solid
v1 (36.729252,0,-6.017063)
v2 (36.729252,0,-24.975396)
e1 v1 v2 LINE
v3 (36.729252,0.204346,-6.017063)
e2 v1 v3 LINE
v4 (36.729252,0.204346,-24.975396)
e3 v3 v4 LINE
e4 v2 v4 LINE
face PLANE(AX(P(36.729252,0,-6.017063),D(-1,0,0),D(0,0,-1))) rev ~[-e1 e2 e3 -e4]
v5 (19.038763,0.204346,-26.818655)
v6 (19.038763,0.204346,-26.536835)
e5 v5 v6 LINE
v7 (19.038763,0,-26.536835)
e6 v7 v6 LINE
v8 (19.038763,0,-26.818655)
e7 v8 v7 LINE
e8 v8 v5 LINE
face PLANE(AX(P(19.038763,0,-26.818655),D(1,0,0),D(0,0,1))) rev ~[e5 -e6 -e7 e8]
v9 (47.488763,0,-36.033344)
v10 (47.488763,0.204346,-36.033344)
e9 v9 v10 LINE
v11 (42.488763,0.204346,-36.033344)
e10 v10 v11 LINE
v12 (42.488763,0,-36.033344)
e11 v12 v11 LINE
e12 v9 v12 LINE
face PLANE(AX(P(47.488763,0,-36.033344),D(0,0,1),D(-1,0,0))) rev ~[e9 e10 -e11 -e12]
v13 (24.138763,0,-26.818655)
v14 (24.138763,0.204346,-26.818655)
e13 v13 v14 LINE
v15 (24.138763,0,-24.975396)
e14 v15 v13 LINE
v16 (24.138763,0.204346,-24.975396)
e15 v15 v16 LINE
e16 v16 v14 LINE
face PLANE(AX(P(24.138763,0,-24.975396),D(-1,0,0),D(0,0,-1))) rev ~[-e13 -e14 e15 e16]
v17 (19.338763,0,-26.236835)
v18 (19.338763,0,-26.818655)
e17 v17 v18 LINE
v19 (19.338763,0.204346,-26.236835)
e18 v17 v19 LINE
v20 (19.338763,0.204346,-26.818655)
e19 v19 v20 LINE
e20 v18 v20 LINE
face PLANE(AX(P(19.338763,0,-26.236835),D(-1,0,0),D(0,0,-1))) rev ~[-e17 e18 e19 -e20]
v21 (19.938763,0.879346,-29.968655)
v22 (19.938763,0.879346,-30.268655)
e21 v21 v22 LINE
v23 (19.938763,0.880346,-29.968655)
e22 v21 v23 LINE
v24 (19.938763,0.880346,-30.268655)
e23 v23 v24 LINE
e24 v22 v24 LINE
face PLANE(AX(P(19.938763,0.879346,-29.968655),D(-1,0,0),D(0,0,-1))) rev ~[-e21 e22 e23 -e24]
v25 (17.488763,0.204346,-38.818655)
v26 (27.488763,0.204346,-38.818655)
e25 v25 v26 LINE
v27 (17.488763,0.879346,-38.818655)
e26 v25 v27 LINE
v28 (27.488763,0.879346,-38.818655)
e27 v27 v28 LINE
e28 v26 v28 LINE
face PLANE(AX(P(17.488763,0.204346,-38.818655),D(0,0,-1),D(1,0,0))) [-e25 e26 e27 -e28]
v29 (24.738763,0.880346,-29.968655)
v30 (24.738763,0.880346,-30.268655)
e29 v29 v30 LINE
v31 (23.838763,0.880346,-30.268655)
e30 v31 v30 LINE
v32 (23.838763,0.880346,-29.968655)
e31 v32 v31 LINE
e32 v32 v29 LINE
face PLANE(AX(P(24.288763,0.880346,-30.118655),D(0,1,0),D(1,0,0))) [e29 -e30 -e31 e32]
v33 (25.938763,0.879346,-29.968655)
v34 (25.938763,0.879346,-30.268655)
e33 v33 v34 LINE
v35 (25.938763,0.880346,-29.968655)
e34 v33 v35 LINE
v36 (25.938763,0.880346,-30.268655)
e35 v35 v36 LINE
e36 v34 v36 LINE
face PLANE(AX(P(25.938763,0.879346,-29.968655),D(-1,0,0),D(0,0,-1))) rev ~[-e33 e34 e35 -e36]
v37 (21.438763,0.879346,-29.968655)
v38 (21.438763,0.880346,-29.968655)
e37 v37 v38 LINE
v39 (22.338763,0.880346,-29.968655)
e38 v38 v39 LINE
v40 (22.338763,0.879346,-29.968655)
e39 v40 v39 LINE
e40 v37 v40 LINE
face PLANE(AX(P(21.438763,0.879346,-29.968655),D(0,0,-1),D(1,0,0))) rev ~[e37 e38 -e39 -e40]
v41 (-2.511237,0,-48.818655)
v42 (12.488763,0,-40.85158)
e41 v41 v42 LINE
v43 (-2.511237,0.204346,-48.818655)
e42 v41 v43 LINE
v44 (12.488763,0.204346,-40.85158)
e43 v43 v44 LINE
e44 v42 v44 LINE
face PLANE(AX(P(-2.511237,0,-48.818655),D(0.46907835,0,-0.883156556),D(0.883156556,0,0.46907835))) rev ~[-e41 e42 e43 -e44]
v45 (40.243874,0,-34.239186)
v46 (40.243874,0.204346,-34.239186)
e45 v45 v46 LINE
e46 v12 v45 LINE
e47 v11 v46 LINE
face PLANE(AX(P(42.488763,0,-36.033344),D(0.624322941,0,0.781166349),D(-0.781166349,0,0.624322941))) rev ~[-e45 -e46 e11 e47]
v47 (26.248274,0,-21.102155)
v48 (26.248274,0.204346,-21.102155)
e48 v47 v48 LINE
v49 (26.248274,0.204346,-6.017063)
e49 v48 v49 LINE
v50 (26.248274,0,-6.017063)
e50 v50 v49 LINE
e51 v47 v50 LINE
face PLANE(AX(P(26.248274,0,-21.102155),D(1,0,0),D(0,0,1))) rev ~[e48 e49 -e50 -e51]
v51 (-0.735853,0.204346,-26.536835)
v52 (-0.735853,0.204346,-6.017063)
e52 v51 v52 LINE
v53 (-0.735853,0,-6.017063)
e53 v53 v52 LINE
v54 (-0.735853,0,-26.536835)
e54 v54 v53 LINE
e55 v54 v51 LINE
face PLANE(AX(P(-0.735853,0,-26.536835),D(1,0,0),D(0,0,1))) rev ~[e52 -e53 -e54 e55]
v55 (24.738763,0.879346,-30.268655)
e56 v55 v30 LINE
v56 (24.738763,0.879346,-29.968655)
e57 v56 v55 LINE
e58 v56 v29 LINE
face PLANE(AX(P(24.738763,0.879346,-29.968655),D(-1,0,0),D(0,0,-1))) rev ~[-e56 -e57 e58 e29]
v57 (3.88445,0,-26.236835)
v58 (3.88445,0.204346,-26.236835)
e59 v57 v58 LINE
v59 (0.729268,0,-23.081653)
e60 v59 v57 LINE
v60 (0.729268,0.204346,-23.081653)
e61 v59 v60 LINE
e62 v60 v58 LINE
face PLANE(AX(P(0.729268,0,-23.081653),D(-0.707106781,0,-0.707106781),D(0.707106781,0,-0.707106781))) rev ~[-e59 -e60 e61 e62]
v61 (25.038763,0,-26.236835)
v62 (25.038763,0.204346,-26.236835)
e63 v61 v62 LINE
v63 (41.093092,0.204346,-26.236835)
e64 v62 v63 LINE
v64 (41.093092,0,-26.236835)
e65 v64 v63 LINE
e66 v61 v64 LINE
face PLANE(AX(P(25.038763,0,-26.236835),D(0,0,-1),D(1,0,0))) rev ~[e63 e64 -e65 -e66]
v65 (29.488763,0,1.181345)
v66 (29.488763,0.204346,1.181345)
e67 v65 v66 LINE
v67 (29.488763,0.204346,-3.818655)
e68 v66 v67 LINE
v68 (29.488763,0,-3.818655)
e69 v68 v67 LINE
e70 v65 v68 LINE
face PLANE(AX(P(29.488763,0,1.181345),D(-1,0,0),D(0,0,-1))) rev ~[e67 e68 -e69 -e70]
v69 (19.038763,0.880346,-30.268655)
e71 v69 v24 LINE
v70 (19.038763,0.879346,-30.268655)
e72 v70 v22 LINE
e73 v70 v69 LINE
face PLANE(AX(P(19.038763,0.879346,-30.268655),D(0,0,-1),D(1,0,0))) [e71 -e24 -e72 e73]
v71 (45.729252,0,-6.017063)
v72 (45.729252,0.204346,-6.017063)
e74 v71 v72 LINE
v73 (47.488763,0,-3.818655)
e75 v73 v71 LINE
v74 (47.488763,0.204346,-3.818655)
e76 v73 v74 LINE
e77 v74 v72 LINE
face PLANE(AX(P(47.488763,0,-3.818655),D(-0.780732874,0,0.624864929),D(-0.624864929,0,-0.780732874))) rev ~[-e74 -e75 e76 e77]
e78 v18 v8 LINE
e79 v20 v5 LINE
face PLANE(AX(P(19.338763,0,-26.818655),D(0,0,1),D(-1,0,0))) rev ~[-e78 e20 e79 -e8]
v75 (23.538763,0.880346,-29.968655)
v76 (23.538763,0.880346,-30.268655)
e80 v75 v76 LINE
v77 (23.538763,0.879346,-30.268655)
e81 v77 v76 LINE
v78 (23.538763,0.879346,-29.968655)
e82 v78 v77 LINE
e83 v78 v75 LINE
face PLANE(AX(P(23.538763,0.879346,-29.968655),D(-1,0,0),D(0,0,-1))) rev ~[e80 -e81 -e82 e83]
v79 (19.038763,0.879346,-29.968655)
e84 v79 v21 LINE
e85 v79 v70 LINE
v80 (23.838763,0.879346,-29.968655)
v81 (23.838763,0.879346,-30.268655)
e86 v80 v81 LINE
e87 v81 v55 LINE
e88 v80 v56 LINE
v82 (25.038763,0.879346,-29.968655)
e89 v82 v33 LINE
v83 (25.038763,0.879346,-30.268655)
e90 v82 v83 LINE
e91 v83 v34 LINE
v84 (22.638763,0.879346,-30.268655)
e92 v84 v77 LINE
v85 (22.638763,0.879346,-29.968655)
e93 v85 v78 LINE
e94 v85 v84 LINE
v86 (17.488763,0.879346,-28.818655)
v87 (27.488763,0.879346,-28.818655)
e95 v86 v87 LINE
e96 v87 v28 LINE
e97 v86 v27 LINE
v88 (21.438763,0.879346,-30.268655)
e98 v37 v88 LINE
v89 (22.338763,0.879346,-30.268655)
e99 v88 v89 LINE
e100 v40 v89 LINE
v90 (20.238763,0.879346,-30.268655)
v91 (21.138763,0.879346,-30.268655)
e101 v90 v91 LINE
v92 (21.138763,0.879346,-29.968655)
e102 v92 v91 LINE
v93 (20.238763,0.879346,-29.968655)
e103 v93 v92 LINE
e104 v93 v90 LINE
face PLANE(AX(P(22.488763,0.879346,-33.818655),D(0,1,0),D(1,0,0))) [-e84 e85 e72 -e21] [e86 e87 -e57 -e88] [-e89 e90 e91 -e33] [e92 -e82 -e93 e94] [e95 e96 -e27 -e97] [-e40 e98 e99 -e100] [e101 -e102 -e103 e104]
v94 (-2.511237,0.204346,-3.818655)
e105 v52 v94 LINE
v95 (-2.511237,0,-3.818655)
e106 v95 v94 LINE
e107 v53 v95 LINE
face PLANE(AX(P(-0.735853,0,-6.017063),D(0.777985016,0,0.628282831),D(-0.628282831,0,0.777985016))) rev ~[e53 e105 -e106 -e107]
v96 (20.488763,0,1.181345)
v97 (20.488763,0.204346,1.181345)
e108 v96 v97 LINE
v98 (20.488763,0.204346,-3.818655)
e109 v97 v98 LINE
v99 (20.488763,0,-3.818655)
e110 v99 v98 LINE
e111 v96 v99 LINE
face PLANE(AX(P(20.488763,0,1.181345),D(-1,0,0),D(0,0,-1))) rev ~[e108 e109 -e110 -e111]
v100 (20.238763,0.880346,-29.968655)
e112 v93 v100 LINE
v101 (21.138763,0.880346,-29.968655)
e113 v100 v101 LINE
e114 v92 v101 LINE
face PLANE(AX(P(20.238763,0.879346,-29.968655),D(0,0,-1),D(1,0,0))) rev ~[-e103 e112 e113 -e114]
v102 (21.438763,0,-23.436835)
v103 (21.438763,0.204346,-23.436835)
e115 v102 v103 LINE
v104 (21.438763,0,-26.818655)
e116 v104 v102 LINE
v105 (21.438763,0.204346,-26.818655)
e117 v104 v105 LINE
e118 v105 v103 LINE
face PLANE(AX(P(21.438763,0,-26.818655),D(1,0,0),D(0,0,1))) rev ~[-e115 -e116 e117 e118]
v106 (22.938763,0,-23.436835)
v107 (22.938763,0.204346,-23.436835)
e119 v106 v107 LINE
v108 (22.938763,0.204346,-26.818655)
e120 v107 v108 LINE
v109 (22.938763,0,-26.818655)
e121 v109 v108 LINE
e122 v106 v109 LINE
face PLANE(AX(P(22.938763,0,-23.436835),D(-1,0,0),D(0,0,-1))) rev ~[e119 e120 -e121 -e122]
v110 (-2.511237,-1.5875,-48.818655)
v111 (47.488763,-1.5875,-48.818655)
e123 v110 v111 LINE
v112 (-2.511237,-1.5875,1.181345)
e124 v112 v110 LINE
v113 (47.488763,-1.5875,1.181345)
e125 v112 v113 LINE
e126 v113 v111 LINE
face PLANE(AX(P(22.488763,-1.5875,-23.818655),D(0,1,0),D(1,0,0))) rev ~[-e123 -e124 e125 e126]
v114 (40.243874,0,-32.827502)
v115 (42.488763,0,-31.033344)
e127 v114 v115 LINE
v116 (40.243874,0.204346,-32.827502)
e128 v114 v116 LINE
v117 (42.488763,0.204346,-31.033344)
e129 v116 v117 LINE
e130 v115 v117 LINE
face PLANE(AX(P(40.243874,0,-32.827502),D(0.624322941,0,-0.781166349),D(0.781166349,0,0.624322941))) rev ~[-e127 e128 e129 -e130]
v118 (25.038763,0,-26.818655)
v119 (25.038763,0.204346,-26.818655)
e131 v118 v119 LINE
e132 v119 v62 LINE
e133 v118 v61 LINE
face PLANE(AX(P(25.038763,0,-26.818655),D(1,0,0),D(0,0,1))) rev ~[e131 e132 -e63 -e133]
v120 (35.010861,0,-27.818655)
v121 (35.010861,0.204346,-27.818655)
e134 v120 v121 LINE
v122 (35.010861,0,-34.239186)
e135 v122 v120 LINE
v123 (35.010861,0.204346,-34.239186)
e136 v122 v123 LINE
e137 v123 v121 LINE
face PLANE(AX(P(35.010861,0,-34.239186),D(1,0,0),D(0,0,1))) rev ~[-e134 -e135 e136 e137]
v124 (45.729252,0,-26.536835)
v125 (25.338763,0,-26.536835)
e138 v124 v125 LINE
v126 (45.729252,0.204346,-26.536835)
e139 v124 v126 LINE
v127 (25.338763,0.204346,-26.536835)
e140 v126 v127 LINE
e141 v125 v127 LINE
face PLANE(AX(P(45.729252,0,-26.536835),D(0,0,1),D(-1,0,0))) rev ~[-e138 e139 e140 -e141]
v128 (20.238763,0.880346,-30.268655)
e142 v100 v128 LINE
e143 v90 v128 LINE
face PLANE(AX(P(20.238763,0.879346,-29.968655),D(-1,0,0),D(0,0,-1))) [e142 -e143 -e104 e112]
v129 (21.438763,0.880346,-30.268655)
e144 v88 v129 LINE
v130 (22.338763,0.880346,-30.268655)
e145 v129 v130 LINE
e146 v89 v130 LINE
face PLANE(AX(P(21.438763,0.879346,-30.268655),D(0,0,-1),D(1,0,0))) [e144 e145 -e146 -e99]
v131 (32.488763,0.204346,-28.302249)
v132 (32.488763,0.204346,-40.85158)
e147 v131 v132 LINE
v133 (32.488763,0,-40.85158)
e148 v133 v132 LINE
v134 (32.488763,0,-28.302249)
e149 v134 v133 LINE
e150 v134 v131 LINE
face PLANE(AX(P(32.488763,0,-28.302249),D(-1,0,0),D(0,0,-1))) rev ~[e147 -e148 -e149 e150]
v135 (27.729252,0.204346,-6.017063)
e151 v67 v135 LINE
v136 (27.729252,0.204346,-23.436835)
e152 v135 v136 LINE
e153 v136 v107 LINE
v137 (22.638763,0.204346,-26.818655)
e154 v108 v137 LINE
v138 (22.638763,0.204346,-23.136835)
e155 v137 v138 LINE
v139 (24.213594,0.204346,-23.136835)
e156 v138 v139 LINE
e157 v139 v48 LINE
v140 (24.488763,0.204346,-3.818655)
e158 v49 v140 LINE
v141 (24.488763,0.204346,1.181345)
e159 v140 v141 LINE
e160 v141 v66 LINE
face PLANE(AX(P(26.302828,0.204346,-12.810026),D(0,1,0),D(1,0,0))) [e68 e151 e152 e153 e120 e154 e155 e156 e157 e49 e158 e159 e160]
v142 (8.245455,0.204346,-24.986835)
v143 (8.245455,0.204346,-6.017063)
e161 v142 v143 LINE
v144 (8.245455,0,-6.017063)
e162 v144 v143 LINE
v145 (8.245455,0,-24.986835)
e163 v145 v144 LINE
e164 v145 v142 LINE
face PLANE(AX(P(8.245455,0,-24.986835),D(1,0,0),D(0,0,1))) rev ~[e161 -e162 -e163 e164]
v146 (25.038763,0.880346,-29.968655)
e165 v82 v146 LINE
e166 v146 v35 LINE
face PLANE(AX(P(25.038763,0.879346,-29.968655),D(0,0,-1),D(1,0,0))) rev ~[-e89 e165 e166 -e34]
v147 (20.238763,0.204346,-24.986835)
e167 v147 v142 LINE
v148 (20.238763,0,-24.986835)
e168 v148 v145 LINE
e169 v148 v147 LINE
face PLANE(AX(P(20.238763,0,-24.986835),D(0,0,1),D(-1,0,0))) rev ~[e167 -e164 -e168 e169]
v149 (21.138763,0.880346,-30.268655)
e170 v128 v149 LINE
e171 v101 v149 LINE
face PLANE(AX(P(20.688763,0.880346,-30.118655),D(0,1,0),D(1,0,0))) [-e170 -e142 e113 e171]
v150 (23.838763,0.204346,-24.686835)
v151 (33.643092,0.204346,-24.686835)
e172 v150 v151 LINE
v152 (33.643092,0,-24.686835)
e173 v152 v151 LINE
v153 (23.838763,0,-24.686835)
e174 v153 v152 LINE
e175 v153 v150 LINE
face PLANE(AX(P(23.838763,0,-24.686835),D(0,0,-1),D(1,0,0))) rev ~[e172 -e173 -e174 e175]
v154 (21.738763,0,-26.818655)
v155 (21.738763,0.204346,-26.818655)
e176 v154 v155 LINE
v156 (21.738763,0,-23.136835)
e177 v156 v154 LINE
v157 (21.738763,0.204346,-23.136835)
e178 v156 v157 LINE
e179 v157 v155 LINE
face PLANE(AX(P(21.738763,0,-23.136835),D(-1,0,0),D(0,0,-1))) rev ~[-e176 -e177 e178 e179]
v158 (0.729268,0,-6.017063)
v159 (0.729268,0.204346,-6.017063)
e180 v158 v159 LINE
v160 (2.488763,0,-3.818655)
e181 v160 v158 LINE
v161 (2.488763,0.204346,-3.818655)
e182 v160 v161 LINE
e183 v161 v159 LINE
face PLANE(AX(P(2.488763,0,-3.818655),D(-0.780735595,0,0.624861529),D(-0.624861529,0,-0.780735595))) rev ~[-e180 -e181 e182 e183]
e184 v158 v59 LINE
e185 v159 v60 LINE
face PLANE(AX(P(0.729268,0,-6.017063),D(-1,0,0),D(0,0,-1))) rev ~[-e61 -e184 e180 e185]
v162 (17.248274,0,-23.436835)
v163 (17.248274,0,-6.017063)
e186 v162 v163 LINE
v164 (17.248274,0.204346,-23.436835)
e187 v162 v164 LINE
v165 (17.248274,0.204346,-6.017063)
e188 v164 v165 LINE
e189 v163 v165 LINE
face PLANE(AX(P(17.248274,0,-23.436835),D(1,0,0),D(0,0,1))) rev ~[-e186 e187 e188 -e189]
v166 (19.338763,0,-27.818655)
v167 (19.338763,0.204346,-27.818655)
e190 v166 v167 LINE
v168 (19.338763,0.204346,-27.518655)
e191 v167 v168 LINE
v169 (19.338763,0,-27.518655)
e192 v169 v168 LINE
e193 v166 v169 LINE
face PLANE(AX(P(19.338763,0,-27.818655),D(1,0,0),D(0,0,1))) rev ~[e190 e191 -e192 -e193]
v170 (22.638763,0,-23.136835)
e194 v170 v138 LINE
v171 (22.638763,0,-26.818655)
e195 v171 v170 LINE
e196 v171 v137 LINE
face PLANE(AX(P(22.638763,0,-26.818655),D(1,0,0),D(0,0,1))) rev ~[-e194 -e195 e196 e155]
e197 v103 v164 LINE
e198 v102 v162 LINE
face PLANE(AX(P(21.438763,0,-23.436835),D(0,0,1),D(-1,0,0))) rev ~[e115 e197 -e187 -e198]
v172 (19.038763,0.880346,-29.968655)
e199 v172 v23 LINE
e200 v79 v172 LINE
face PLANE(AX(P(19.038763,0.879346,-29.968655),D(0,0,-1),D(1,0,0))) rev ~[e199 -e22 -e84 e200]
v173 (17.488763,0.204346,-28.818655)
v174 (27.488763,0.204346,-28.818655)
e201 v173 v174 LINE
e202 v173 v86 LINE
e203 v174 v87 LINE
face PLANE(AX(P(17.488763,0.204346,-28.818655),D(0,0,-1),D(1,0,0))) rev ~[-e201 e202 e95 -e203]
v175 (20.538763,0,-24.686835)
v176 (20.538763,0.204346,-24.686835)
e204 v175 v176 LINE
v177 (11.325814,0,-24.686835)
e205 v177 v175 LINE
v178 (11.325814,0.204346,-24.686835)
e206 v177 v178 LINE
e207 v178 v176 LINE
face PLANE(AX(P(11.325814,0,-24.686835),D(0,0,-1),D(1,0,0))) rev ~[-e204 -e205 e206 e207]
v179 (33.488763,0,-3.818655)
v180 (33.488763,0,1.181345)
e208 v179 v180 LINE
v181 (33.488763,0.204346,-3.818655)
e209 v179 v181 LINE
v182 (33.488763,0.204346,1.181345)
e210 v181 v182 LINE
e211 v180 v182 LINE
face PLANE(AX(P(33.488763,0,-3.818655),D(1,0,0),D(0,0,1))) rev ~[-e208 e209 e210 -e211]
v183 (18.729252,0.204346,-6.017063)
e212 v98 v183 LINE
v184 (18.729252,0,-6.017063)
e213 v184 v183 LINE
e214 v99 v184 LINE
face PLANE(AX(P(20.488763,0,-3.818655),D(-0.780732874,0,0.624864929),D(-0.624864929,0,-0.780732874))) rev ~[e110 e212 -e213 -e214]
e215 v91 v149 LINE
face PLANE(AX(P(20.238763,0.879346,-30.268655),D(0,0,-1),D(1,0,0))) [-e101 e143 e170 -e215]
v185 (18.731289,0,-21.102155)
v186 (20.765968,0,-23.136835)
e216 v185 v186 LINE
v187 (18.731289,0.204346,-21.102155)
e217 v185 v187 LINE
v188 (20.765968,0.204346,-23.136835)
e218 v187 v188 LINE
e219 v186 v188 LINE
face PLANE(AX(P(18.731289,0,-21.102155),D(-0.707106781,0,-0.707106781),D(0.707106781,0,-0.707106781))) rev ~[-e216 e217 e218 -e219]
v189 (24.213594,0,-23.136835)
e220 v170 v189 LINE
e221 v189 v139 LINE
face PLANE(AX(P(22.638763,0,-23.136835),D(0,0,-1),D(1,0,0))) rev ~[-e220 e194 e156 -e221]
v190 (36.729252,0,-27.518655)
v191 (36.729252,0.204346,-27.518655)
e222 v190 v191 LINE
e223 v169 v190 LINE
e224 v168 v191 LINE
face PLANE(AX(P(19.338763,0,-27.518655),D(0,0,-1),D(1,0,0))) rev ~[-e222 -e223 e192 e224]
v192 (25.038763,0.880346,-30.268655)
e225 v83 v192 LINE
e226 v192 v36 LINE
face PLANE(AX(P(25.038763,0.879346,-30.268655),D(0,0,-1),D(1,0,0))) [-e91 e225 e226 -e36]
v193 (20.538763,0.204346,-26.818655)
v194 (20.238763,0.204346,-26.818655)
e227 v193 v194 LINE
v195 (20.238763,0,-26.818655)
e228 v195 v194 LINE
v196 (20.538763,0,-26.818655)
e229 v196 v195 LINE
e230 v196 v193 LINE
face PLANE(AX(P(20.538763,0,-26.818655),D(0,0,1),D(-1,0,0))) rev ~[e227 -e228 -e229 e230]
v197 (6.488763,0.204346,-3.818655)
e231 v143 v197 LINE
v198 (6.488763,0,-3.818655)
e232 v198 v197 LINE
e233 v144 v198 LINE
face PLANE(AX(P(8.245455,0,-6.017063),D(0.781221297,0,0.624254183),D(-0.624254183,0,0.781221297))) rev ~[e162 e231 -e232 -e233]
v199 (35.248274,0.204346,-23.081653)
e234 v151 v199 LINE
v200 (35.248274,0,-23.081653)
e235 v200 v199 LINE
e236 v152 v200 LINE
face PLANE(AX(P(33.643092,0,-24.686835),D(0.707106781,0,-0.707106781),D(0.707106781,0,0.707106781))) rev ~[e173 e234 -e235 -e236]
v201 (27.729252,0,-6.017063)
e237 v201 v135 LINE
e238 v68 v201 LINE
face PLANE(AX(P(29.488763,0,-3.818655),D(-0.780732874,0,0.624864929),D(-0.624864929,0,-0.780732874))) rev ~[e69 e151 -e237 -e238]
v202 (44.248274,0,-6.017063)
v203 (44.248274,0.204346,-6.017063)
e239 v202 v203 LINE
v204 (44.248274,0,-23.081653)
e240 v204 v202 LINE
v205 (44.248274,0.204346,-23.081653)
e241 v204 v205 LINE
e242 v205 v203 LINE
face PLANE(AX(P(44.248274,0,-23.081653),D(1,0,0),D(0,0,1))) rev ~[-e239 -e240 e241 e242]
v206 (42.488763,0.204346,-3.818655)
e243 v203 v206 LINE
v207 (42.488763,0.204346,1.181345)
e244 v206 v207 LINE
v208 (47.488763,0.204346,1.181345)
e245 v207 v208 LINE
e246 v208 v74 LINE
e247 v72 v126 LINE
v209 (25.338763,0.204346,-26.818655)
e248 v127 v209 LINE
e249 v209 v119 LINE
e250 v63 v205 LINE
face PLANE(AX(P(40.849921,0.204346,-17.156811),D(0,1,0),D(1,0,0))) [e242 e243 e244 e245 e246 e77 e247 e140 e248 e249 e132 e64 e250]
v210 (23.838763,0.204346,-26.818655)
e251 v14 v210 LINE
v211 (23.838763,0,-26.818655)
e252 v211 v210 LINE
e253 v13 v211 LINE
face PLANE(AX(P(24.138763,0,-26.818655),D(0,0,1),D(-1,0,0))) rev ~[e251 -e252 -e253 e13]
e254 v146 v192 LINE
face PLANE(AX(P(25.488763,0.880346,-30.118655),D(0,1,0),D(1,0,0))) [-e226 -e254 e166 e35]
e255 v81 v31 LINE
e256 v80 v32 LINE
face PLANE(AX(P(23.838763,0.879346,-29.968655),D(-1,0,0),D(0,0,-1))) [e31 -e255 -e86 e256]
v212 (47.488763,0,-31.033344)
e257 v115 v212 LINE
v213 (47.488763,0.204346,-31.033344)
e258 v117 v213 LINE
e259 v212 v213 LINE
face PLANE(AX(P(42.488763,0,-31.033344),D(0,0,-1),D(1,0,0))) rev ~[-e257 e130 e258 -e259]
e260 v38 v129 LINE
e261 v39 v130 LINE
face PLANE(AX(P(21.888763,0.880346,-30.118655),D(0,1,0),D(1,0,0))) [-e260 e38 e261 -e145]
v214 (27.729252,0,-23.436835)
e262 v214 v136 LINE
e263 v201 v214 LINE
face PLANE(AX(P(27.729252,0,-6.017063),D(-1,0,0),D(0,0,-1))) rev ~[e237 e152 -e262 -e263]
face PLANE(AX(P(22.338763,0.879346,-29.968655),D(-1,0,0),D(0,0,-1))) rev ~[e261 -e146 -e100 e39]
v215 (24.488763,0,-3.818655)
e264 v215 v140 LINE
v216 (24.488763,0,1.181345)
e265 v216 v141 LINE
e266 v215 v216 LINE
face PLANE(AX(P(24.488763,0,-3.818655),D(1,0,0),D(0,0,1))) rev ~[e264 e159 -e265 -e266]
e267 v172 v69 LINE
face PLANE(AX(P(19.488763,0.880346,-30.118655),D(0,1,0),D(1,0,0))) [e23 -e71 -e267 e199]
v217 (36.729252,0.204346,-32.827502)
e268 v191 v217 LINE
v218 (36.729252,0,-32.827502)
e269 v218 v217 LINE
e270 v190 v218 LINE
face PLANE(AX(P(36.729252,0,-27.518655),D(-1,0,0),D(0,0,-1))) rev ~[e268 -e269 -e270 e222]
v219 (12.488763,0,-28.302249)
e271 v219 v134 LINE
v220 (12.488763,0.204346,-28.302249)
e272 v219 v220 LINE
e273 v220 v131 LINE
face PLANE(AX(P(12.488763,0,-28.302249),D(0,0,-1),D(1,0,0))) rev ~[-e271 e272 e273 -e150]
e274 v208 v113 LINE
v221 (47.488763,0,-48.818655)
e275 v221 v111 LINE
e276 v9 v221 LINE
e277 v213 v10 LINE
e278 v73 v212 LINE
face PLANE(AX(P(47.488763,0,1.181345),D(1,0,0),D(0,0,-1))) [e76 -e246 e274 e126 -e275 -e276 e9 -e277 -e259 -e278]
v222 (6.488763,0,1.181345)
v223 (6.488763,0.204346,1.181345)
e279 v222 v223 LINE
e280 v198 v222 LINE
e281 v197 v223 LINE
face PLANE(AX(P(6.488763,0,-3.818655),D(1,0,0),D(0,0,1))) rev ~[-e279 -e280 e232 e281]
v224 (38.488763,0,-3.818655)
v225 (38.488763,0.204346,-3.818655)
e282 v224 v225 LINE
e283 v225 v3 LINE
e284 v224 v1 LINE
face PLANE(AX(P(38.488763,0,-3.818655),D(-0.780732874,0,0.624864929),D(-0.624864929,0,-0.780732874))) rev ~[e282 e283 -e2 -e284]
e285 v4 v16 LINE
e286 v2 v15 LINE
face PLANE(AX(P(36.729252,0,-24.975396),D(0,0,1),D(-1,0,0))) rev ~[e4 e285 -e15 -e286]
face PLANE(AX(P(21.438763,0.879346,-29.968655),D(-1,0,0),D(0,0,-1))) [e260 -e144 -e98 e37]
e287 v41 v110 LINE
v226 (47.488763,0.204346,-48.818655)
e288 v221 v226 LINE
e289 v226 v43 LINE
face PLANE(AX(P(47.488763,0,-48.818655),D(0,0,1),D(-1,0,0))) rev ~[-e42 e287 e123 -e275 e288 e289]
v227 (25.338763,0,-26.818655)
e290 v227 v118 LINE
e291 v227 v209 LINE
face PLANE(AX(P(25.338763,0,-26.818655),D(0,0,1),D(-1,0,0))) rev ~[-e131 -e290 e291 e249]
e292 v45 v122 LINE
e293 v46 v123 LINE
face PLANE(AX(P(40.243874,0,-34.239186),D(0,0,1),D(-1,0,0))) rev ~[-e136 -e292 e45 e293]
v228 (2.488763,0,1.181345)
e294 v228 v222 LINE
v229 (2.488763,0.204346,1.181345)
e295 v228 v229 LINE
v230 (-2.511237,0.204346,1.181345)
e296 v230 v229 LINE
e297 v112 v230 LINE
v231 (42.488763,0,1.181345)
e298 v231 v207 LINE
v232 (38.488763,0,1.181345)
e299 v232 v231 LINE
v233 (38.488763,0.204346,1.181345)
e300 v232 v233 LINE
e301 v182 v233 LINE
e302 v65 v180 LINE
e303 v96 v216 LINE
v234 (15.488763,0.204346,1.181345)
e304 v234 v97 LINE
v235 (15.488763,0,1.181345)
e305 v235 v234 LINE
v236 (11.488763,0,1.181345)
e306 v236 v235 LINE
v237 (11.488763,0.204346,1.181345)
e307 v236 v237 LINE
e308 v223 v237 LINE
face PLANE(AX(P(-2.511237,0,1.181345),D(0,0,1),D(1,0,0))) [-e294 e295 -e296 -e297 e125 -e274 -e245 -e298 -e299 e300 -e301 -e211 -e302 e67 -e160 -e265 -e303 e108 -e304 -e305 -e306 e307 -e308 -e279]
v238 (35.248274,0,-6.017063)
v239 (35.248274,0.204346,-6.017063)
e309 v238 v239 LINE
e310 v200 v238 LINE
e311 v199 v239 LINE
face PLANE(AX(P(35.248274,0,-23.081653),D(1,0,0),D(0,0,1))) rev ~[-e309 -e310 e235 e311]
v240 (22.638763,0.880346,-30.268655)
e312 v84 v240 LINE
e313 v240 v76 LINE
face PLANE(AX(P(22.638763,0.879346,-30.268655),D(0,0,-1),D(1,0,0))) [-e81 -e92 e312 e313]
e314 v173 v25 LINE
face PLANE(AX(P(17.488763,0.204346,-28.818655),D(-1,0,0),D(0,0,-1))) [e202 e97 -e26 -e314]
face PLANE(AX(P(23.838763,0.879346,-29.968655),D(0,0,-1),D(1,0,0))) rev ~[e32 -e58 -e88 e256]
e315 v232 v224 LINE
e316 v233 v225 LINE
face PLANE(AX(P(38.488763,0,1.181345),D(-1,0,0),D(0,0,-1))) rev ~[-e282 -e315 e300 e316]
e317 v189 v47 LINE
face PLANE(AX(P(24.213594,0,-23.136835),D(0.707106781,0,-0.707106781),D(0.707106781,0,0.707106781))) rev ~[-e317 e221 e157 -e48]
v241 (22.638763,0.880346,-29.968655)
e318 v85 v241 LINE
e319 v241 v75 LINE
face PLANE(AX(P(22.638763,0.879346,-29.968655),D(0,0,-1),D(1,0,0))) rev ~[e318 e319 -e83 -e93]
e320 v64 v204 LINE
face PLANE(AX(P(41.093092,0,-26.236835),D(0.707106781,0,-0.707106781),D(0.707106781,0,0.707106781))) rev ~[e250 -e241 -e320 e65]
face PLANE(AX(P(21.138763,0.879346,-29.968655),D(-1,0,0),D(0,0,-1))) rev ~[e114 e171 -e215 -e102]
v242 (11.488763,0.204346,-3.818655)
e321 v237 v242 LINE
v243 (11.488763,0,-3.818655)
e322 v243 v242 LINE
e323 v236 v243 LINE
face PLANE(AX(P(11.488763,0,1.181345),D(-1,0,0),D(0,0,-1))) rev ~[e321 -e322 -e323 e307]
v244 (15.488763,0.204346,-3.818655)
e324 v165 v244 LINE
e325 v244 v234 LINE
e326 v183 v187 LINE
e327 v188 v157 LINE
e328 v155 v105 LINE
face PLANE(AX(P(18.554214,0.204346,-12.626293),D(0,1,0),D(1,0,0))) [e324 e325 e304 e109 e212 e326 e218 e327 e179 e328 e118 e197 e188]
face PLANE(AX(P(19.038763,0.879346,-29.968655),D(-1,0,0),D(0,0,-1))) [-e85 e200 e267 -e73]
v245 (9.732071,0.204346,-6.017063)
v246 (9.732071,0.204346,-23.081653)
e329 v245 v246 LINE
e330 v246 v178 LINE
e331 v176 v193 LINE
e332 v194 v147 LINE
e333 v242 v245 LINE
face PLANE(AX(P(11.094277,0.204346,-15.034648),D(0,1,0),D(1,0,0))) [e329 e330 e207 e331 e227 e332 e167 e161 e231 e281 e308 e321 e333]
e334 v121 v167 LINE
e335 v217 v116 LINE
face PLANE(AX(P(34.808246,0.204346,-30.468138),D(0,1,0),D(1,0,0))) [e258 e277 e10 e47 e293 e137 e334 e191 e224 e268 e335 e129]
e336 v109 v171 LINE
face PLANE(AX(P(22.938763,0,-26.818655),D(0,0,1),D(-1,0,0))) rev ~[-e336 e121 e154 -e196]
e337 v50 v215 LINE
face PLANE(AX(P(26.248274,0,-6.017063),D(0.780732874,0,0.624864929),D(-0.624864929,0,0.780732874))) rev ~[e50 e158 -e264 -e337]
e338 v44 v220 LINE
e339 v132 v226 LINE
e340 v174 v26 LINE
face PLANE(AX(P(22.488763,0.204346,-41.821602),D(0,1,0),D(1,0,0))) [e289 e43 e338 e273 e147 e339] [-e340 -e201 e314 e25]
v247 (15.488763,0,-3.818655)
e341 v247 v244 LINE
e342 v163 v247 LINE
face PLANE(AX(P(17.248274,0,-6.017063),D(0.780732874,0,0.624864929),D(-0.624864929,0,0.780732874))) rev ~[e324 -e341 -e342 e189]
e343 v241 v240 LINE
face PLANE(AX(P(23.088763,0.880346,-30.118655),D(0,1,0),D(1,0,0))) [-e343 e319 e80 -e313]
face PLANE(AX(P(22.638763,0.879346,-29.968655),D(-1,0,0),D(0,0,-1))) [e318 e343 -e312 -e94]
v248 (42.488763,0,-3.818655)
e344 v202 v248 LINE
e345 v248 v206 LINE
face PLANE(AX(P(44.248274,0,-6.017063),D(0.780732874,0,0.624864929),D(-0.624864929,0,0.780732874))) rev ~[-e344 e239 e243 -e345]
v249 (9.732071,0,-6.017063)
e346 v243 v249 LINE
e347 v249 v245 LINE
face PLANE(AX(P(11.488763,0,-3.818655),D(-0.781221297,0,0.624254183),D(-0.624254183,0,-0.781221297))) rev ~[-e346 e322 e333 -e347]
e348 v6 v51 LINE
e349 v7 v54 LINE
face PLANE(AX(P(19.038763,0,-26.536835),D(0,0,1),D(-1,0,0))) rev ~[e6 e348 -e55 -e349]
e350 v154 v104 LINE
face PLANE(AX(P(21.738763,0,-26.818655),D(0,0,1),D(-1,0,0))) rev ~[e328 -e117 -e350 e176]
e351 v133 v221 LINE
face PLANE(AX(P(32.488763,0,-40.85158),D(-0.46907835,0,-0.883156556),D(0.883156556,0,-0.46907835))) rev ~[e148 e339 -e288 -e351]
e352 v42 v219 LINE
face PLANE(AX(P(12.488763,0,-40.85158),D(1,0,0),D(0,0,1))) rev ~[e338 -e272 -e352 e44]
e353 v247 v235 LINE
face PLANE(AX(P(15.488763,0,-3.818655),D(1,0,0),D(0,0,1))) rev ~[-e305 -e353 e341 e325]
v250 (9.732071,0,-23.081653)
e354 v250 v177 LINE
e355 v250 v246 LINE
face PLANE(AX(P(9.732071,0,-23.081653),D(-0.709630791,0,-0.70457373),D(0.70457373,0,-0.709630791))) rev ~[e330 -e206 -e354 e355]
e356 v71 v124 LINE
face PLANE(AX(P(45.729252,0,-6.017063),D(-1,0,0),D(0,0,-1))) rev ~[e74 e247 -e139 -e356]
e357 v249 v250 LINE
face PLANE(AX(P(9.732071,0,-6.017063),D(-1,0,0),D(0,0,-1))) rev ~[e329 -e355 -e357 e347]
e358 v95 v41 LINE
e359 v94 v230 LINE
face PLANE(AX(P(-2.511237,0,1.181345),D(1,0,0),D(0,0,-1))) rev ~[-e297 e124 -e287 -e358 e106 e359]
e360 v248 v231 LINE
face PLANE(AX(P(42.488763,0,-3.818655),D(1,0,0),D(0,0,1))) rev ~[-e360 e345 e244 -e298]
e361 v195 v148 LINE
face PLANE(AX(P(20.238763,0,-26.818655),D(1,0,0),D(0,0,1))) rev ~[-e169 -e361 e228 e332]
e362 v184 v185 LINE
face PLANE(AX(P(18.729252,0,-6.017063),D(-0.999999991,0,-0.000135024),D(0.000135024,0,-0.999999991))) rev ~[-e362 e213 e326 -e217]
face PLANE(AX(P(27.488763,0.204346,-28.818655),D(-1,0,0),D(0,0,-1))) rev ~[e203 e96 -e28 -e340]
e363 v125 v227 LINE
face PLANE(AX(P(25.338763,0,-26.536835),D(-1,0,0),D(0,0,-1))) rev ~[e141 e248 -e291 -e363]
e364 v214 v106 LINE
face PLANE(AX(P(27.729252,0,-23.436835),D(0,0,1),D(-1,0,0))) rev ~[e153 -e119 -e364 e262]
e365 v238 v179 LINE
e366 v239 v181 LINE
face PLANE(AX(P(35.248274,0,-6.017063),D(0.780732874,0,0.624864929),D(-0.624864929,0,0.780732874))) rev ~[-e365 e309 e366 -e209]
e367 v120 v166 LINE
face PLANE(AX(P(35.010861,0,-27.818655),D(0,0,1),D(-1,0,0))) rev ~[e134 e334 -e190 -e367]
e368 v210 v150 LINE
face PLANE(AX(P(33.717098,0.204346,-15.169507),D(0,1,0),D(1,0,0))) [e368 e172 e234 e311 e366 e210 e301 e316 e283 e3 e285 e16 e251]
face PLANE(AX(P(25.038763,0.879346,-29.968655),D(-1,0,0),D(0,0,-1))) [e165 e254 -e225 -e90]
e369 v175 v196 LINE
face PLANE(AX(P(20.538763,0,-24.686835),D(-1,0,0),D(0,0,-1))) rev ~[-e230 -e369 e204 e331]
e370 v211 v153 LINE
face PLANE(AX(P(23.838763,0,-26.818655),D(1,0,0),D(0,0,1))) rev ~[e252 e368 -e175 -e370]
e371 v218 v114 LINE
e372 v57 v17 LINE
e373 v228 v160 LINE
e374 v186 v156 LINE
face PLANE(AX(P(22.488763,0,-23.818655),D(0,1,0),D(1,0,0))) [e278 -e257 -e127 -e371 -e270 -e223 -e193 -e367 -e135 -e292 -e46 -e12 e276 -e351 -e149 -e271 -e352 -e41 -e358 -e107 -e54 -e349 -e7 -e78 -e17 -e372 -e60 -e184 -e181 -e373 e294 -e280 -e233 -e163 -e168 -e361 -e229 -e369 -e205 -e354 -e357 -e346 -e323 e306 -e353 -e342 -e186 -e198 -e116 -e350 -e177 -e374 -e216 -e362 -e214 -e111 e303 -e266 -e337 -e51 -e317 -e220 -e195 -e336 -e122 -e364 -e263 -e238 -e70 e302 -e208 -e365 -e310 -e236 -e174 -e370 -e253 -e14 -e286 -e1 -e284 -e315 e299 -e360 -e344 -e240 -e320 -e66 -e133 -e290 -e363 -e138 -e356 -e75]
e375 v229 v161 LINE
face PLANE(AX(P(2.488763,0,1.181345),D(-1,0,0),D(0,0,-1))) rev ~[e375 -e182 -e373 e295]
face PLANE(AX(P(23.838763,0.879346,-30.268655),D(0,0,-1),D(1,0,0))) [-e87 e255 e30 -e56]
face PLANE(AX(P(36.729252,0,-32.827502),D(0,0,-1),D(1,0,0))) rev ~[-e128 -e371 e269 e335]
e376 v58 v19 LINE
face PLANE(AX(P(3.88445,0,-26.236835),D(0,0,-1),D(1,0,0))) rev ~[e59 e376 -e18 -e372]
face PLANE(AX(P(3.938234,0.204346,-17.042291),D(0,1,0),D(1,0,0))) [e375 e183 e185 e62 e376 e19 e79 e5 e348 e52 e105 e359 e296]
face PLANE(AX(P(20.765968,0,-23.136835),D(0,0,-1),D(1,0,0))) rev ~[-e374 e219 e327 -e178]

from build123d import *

# Parameters (mm, degrees)
SKETCH3_W           = 50
SKETCH3_H           = 50
BOSS_EXTRUDE1_DEPTH = 1.5875
BOSS_EXTRUDE2_DEPTH = 0.204346
SKETCH4_W           = 10
SKETCH4_H           = 10
BOSS_EXTRUDE3_DEPTH = 0.675
SKETCH5_W           = 0.9
SKETCH5_H           = 0.3
BOSS_EXTRUDE4_DEPTH = 0.001


with BuildPart() as part:
    # Sketch3 → Boss-Extrude1 (new body)
    with BuildSketch(Plane(origin=(0, 0, 0), x_dir=(1, 0, 0), z_dir=(0, 1, 0))):
        with Locations((22.488763021, 23.818655395)):
            Rectangle(SKETCH3_W, SKETCH3_H)
    extrude(amount=-BOSS_EXTRUDE1_DEPTH)

    # Sketch2 → Boss-Extrude2 (add)
    with BuildSketch(Plane(origin=(0, 0, 0), x_dir=(1, 0, 0), z_dir=(0, 1, 0))):
        Polygon((32.488763021, 28.302249005), (32.488763021, 40.851579566), (47.488763021, 48.818655395), (-2.511236979, 48.818655395), (12.488763021, 40.851579566), (12.488763021, 28.302249005), align=None)
        Polygon((47.488763021, 31.033343899), (47.488763021, 36.033343899), (42.488763021, 36.033343899), (40.243873607, 34.239185764), (35.010861347, 34.239185764), (35.010861347, 27.818655395), (19.338763021, 27.818655395), (19.338763021, 27.518655395), (36.72925203, 27.518655395), (36.72925203, 32.827502034), (40.243873607, 32.827502034), (42.488763021, 31.033343899), align=None)
        Polygon((47.488763021, -1.181344605), (47.488763021, 3.818655395), (45.72925203, 6.01706342), (45.72925203, 26.536834752), (25.338763021, 26.536834752), (25.338763021, 26.818655395), (25.038763021, 26.818655395), (25.038763021, 26.236834752), (41.093092119, 26.236834752), (44.248274012, 23.081652859), (44.248274012, 6.01706342), (42.488763021, 3.818655395), (42.488763021, -1.181344605), align=None)
        Polygon((33.488763021, -1.181344605), (38.488763021, -1.181344605), (38.488763021, 3.818655395), (36.72925203, 6.01706342), (36.72925203, 24.975395702), (24.138763021, 24.975395702), (24.138763021, 26.818655395), (23.838763021, 26.818655395), (23.838763021, 24.686834752), (33.643092119, 24.686834752), (35.248274012, 23.081652859), (35.248274012, 6.01706342), (33.488763021, 3.818655395), align=None)
        Polygon((24.488763021, 3.818655395), (24.488763021, -1.181344605), (29.488763021, -1.181344605), (29.488763021, 3.818655395), (27.72925203, 6.01706342), (27.72925203, 23.436834752), (22.938763021, 23.436834752), (22.938763021, 26.818655395), (22.638763021, 26.818655395), (22.638763021, 23.136834752), (24.213594494, 23.136834752), (26.248274012, 21.102155233), (26.248274012, 6.01706342), align=None)
        Polygon((15.488763021, 3.818655395), (15.488763021, -1.181344605), (20.488763021, -1.181344605), (20.488763021, 3.818655395), (18.72925203, 6.01706342), (18.731288885, 21.102155233), (20.765968404, 23.136834752), (21.738763021, 23.136834752), (21.738763021, 26.818655395), (21.438763021, 26.818655395), (21.438763021, 23.436834752), (17.248274012, 23.436834752), (17.248274012, 6.01706342), align=None)
        Polygon((6.488763021, 3.818655395), (6.488763021, -1.181344605), (11.488763021, -1.181344605), (11.488763021, 3.818655395), (9.732070762, 6.01706342), (9.732070762, 23.081652859), (11.325813604, 24.686834752), (20.538763021, 24.686834752), (20.538763021, 26.818655395), (20.238763021, 26.818655395), (20.238763021, 24.986834752), (8.24545528, 24.986834752), (8.24545528, 6.01706342), align=None)
        Polygon((-0.735853149, 6.01706342), (-2.511236979, 3.818655395), (-2.511236979, -1.181344605), (2.488763021, -1.181344605), (2.488763021, 3.818655395), (0.729267736, 6.01706342), (0.729267736, 23.081652859), (3.884449629, 26.236834752), (19.338763021, 26.236834752), (19.338763021, 26.818655395), (19.038763021, 26.818655395), (19.038763021, 26.536834752), (-0.735853149, 26.536834752), align=None)
    extrude(amount=BOSS_EXTRUDE2_DEPTH)

    # Sketch4 → Boss-Extrude3 (add)
    with BuildSketch(Plane(origin=(0, 0.204346, 0), x_dir=(1, 0, 0), z_dir=(0, 1, 0))):
        with Locations((22.488763021, 33.818655395)):
            Rectangle(SKETCH4_W, SKETCH4_H)
    extrude(amount=BOSS_EXTRUDE3_DEPTH)

    # Sketch5 → Boss-Extrude4 (add)
    with BuildSketch(Plane(origin=(0, 0.879346, 0), x_dir=(1, 0, 0), z_dir=(0, 1, 0))):
        with Locations((19.488763021, 30.118655395)):
            Rectangle(SKETCH5_W, SKETCH5_H)
        with Locations((20.688763021, 30.118655395)):
            Rectangle(SKETCH5_W, SKETCH5_H)
        with Locations((21.888763021, 30.118655395)):
            Rectangle(SKETCH5_W, SKETCH5_H)
        with Locations((23.088763021, 30.118655395)):
            Rectangle(SKETCH5_W, SKETCH5_H)
        with Locations((24.288763021, 30.118655395)):
            Rectangle(SKETCH5_W, SKETCH5_H)
        with Locations((25.488763021, 30.118655395)):
            Rectangle(SKETCH5_W, SKETCH5_H)
    extrude(amount=BOSS_EXTRUDE4_DEPTH)


solid = part.part
